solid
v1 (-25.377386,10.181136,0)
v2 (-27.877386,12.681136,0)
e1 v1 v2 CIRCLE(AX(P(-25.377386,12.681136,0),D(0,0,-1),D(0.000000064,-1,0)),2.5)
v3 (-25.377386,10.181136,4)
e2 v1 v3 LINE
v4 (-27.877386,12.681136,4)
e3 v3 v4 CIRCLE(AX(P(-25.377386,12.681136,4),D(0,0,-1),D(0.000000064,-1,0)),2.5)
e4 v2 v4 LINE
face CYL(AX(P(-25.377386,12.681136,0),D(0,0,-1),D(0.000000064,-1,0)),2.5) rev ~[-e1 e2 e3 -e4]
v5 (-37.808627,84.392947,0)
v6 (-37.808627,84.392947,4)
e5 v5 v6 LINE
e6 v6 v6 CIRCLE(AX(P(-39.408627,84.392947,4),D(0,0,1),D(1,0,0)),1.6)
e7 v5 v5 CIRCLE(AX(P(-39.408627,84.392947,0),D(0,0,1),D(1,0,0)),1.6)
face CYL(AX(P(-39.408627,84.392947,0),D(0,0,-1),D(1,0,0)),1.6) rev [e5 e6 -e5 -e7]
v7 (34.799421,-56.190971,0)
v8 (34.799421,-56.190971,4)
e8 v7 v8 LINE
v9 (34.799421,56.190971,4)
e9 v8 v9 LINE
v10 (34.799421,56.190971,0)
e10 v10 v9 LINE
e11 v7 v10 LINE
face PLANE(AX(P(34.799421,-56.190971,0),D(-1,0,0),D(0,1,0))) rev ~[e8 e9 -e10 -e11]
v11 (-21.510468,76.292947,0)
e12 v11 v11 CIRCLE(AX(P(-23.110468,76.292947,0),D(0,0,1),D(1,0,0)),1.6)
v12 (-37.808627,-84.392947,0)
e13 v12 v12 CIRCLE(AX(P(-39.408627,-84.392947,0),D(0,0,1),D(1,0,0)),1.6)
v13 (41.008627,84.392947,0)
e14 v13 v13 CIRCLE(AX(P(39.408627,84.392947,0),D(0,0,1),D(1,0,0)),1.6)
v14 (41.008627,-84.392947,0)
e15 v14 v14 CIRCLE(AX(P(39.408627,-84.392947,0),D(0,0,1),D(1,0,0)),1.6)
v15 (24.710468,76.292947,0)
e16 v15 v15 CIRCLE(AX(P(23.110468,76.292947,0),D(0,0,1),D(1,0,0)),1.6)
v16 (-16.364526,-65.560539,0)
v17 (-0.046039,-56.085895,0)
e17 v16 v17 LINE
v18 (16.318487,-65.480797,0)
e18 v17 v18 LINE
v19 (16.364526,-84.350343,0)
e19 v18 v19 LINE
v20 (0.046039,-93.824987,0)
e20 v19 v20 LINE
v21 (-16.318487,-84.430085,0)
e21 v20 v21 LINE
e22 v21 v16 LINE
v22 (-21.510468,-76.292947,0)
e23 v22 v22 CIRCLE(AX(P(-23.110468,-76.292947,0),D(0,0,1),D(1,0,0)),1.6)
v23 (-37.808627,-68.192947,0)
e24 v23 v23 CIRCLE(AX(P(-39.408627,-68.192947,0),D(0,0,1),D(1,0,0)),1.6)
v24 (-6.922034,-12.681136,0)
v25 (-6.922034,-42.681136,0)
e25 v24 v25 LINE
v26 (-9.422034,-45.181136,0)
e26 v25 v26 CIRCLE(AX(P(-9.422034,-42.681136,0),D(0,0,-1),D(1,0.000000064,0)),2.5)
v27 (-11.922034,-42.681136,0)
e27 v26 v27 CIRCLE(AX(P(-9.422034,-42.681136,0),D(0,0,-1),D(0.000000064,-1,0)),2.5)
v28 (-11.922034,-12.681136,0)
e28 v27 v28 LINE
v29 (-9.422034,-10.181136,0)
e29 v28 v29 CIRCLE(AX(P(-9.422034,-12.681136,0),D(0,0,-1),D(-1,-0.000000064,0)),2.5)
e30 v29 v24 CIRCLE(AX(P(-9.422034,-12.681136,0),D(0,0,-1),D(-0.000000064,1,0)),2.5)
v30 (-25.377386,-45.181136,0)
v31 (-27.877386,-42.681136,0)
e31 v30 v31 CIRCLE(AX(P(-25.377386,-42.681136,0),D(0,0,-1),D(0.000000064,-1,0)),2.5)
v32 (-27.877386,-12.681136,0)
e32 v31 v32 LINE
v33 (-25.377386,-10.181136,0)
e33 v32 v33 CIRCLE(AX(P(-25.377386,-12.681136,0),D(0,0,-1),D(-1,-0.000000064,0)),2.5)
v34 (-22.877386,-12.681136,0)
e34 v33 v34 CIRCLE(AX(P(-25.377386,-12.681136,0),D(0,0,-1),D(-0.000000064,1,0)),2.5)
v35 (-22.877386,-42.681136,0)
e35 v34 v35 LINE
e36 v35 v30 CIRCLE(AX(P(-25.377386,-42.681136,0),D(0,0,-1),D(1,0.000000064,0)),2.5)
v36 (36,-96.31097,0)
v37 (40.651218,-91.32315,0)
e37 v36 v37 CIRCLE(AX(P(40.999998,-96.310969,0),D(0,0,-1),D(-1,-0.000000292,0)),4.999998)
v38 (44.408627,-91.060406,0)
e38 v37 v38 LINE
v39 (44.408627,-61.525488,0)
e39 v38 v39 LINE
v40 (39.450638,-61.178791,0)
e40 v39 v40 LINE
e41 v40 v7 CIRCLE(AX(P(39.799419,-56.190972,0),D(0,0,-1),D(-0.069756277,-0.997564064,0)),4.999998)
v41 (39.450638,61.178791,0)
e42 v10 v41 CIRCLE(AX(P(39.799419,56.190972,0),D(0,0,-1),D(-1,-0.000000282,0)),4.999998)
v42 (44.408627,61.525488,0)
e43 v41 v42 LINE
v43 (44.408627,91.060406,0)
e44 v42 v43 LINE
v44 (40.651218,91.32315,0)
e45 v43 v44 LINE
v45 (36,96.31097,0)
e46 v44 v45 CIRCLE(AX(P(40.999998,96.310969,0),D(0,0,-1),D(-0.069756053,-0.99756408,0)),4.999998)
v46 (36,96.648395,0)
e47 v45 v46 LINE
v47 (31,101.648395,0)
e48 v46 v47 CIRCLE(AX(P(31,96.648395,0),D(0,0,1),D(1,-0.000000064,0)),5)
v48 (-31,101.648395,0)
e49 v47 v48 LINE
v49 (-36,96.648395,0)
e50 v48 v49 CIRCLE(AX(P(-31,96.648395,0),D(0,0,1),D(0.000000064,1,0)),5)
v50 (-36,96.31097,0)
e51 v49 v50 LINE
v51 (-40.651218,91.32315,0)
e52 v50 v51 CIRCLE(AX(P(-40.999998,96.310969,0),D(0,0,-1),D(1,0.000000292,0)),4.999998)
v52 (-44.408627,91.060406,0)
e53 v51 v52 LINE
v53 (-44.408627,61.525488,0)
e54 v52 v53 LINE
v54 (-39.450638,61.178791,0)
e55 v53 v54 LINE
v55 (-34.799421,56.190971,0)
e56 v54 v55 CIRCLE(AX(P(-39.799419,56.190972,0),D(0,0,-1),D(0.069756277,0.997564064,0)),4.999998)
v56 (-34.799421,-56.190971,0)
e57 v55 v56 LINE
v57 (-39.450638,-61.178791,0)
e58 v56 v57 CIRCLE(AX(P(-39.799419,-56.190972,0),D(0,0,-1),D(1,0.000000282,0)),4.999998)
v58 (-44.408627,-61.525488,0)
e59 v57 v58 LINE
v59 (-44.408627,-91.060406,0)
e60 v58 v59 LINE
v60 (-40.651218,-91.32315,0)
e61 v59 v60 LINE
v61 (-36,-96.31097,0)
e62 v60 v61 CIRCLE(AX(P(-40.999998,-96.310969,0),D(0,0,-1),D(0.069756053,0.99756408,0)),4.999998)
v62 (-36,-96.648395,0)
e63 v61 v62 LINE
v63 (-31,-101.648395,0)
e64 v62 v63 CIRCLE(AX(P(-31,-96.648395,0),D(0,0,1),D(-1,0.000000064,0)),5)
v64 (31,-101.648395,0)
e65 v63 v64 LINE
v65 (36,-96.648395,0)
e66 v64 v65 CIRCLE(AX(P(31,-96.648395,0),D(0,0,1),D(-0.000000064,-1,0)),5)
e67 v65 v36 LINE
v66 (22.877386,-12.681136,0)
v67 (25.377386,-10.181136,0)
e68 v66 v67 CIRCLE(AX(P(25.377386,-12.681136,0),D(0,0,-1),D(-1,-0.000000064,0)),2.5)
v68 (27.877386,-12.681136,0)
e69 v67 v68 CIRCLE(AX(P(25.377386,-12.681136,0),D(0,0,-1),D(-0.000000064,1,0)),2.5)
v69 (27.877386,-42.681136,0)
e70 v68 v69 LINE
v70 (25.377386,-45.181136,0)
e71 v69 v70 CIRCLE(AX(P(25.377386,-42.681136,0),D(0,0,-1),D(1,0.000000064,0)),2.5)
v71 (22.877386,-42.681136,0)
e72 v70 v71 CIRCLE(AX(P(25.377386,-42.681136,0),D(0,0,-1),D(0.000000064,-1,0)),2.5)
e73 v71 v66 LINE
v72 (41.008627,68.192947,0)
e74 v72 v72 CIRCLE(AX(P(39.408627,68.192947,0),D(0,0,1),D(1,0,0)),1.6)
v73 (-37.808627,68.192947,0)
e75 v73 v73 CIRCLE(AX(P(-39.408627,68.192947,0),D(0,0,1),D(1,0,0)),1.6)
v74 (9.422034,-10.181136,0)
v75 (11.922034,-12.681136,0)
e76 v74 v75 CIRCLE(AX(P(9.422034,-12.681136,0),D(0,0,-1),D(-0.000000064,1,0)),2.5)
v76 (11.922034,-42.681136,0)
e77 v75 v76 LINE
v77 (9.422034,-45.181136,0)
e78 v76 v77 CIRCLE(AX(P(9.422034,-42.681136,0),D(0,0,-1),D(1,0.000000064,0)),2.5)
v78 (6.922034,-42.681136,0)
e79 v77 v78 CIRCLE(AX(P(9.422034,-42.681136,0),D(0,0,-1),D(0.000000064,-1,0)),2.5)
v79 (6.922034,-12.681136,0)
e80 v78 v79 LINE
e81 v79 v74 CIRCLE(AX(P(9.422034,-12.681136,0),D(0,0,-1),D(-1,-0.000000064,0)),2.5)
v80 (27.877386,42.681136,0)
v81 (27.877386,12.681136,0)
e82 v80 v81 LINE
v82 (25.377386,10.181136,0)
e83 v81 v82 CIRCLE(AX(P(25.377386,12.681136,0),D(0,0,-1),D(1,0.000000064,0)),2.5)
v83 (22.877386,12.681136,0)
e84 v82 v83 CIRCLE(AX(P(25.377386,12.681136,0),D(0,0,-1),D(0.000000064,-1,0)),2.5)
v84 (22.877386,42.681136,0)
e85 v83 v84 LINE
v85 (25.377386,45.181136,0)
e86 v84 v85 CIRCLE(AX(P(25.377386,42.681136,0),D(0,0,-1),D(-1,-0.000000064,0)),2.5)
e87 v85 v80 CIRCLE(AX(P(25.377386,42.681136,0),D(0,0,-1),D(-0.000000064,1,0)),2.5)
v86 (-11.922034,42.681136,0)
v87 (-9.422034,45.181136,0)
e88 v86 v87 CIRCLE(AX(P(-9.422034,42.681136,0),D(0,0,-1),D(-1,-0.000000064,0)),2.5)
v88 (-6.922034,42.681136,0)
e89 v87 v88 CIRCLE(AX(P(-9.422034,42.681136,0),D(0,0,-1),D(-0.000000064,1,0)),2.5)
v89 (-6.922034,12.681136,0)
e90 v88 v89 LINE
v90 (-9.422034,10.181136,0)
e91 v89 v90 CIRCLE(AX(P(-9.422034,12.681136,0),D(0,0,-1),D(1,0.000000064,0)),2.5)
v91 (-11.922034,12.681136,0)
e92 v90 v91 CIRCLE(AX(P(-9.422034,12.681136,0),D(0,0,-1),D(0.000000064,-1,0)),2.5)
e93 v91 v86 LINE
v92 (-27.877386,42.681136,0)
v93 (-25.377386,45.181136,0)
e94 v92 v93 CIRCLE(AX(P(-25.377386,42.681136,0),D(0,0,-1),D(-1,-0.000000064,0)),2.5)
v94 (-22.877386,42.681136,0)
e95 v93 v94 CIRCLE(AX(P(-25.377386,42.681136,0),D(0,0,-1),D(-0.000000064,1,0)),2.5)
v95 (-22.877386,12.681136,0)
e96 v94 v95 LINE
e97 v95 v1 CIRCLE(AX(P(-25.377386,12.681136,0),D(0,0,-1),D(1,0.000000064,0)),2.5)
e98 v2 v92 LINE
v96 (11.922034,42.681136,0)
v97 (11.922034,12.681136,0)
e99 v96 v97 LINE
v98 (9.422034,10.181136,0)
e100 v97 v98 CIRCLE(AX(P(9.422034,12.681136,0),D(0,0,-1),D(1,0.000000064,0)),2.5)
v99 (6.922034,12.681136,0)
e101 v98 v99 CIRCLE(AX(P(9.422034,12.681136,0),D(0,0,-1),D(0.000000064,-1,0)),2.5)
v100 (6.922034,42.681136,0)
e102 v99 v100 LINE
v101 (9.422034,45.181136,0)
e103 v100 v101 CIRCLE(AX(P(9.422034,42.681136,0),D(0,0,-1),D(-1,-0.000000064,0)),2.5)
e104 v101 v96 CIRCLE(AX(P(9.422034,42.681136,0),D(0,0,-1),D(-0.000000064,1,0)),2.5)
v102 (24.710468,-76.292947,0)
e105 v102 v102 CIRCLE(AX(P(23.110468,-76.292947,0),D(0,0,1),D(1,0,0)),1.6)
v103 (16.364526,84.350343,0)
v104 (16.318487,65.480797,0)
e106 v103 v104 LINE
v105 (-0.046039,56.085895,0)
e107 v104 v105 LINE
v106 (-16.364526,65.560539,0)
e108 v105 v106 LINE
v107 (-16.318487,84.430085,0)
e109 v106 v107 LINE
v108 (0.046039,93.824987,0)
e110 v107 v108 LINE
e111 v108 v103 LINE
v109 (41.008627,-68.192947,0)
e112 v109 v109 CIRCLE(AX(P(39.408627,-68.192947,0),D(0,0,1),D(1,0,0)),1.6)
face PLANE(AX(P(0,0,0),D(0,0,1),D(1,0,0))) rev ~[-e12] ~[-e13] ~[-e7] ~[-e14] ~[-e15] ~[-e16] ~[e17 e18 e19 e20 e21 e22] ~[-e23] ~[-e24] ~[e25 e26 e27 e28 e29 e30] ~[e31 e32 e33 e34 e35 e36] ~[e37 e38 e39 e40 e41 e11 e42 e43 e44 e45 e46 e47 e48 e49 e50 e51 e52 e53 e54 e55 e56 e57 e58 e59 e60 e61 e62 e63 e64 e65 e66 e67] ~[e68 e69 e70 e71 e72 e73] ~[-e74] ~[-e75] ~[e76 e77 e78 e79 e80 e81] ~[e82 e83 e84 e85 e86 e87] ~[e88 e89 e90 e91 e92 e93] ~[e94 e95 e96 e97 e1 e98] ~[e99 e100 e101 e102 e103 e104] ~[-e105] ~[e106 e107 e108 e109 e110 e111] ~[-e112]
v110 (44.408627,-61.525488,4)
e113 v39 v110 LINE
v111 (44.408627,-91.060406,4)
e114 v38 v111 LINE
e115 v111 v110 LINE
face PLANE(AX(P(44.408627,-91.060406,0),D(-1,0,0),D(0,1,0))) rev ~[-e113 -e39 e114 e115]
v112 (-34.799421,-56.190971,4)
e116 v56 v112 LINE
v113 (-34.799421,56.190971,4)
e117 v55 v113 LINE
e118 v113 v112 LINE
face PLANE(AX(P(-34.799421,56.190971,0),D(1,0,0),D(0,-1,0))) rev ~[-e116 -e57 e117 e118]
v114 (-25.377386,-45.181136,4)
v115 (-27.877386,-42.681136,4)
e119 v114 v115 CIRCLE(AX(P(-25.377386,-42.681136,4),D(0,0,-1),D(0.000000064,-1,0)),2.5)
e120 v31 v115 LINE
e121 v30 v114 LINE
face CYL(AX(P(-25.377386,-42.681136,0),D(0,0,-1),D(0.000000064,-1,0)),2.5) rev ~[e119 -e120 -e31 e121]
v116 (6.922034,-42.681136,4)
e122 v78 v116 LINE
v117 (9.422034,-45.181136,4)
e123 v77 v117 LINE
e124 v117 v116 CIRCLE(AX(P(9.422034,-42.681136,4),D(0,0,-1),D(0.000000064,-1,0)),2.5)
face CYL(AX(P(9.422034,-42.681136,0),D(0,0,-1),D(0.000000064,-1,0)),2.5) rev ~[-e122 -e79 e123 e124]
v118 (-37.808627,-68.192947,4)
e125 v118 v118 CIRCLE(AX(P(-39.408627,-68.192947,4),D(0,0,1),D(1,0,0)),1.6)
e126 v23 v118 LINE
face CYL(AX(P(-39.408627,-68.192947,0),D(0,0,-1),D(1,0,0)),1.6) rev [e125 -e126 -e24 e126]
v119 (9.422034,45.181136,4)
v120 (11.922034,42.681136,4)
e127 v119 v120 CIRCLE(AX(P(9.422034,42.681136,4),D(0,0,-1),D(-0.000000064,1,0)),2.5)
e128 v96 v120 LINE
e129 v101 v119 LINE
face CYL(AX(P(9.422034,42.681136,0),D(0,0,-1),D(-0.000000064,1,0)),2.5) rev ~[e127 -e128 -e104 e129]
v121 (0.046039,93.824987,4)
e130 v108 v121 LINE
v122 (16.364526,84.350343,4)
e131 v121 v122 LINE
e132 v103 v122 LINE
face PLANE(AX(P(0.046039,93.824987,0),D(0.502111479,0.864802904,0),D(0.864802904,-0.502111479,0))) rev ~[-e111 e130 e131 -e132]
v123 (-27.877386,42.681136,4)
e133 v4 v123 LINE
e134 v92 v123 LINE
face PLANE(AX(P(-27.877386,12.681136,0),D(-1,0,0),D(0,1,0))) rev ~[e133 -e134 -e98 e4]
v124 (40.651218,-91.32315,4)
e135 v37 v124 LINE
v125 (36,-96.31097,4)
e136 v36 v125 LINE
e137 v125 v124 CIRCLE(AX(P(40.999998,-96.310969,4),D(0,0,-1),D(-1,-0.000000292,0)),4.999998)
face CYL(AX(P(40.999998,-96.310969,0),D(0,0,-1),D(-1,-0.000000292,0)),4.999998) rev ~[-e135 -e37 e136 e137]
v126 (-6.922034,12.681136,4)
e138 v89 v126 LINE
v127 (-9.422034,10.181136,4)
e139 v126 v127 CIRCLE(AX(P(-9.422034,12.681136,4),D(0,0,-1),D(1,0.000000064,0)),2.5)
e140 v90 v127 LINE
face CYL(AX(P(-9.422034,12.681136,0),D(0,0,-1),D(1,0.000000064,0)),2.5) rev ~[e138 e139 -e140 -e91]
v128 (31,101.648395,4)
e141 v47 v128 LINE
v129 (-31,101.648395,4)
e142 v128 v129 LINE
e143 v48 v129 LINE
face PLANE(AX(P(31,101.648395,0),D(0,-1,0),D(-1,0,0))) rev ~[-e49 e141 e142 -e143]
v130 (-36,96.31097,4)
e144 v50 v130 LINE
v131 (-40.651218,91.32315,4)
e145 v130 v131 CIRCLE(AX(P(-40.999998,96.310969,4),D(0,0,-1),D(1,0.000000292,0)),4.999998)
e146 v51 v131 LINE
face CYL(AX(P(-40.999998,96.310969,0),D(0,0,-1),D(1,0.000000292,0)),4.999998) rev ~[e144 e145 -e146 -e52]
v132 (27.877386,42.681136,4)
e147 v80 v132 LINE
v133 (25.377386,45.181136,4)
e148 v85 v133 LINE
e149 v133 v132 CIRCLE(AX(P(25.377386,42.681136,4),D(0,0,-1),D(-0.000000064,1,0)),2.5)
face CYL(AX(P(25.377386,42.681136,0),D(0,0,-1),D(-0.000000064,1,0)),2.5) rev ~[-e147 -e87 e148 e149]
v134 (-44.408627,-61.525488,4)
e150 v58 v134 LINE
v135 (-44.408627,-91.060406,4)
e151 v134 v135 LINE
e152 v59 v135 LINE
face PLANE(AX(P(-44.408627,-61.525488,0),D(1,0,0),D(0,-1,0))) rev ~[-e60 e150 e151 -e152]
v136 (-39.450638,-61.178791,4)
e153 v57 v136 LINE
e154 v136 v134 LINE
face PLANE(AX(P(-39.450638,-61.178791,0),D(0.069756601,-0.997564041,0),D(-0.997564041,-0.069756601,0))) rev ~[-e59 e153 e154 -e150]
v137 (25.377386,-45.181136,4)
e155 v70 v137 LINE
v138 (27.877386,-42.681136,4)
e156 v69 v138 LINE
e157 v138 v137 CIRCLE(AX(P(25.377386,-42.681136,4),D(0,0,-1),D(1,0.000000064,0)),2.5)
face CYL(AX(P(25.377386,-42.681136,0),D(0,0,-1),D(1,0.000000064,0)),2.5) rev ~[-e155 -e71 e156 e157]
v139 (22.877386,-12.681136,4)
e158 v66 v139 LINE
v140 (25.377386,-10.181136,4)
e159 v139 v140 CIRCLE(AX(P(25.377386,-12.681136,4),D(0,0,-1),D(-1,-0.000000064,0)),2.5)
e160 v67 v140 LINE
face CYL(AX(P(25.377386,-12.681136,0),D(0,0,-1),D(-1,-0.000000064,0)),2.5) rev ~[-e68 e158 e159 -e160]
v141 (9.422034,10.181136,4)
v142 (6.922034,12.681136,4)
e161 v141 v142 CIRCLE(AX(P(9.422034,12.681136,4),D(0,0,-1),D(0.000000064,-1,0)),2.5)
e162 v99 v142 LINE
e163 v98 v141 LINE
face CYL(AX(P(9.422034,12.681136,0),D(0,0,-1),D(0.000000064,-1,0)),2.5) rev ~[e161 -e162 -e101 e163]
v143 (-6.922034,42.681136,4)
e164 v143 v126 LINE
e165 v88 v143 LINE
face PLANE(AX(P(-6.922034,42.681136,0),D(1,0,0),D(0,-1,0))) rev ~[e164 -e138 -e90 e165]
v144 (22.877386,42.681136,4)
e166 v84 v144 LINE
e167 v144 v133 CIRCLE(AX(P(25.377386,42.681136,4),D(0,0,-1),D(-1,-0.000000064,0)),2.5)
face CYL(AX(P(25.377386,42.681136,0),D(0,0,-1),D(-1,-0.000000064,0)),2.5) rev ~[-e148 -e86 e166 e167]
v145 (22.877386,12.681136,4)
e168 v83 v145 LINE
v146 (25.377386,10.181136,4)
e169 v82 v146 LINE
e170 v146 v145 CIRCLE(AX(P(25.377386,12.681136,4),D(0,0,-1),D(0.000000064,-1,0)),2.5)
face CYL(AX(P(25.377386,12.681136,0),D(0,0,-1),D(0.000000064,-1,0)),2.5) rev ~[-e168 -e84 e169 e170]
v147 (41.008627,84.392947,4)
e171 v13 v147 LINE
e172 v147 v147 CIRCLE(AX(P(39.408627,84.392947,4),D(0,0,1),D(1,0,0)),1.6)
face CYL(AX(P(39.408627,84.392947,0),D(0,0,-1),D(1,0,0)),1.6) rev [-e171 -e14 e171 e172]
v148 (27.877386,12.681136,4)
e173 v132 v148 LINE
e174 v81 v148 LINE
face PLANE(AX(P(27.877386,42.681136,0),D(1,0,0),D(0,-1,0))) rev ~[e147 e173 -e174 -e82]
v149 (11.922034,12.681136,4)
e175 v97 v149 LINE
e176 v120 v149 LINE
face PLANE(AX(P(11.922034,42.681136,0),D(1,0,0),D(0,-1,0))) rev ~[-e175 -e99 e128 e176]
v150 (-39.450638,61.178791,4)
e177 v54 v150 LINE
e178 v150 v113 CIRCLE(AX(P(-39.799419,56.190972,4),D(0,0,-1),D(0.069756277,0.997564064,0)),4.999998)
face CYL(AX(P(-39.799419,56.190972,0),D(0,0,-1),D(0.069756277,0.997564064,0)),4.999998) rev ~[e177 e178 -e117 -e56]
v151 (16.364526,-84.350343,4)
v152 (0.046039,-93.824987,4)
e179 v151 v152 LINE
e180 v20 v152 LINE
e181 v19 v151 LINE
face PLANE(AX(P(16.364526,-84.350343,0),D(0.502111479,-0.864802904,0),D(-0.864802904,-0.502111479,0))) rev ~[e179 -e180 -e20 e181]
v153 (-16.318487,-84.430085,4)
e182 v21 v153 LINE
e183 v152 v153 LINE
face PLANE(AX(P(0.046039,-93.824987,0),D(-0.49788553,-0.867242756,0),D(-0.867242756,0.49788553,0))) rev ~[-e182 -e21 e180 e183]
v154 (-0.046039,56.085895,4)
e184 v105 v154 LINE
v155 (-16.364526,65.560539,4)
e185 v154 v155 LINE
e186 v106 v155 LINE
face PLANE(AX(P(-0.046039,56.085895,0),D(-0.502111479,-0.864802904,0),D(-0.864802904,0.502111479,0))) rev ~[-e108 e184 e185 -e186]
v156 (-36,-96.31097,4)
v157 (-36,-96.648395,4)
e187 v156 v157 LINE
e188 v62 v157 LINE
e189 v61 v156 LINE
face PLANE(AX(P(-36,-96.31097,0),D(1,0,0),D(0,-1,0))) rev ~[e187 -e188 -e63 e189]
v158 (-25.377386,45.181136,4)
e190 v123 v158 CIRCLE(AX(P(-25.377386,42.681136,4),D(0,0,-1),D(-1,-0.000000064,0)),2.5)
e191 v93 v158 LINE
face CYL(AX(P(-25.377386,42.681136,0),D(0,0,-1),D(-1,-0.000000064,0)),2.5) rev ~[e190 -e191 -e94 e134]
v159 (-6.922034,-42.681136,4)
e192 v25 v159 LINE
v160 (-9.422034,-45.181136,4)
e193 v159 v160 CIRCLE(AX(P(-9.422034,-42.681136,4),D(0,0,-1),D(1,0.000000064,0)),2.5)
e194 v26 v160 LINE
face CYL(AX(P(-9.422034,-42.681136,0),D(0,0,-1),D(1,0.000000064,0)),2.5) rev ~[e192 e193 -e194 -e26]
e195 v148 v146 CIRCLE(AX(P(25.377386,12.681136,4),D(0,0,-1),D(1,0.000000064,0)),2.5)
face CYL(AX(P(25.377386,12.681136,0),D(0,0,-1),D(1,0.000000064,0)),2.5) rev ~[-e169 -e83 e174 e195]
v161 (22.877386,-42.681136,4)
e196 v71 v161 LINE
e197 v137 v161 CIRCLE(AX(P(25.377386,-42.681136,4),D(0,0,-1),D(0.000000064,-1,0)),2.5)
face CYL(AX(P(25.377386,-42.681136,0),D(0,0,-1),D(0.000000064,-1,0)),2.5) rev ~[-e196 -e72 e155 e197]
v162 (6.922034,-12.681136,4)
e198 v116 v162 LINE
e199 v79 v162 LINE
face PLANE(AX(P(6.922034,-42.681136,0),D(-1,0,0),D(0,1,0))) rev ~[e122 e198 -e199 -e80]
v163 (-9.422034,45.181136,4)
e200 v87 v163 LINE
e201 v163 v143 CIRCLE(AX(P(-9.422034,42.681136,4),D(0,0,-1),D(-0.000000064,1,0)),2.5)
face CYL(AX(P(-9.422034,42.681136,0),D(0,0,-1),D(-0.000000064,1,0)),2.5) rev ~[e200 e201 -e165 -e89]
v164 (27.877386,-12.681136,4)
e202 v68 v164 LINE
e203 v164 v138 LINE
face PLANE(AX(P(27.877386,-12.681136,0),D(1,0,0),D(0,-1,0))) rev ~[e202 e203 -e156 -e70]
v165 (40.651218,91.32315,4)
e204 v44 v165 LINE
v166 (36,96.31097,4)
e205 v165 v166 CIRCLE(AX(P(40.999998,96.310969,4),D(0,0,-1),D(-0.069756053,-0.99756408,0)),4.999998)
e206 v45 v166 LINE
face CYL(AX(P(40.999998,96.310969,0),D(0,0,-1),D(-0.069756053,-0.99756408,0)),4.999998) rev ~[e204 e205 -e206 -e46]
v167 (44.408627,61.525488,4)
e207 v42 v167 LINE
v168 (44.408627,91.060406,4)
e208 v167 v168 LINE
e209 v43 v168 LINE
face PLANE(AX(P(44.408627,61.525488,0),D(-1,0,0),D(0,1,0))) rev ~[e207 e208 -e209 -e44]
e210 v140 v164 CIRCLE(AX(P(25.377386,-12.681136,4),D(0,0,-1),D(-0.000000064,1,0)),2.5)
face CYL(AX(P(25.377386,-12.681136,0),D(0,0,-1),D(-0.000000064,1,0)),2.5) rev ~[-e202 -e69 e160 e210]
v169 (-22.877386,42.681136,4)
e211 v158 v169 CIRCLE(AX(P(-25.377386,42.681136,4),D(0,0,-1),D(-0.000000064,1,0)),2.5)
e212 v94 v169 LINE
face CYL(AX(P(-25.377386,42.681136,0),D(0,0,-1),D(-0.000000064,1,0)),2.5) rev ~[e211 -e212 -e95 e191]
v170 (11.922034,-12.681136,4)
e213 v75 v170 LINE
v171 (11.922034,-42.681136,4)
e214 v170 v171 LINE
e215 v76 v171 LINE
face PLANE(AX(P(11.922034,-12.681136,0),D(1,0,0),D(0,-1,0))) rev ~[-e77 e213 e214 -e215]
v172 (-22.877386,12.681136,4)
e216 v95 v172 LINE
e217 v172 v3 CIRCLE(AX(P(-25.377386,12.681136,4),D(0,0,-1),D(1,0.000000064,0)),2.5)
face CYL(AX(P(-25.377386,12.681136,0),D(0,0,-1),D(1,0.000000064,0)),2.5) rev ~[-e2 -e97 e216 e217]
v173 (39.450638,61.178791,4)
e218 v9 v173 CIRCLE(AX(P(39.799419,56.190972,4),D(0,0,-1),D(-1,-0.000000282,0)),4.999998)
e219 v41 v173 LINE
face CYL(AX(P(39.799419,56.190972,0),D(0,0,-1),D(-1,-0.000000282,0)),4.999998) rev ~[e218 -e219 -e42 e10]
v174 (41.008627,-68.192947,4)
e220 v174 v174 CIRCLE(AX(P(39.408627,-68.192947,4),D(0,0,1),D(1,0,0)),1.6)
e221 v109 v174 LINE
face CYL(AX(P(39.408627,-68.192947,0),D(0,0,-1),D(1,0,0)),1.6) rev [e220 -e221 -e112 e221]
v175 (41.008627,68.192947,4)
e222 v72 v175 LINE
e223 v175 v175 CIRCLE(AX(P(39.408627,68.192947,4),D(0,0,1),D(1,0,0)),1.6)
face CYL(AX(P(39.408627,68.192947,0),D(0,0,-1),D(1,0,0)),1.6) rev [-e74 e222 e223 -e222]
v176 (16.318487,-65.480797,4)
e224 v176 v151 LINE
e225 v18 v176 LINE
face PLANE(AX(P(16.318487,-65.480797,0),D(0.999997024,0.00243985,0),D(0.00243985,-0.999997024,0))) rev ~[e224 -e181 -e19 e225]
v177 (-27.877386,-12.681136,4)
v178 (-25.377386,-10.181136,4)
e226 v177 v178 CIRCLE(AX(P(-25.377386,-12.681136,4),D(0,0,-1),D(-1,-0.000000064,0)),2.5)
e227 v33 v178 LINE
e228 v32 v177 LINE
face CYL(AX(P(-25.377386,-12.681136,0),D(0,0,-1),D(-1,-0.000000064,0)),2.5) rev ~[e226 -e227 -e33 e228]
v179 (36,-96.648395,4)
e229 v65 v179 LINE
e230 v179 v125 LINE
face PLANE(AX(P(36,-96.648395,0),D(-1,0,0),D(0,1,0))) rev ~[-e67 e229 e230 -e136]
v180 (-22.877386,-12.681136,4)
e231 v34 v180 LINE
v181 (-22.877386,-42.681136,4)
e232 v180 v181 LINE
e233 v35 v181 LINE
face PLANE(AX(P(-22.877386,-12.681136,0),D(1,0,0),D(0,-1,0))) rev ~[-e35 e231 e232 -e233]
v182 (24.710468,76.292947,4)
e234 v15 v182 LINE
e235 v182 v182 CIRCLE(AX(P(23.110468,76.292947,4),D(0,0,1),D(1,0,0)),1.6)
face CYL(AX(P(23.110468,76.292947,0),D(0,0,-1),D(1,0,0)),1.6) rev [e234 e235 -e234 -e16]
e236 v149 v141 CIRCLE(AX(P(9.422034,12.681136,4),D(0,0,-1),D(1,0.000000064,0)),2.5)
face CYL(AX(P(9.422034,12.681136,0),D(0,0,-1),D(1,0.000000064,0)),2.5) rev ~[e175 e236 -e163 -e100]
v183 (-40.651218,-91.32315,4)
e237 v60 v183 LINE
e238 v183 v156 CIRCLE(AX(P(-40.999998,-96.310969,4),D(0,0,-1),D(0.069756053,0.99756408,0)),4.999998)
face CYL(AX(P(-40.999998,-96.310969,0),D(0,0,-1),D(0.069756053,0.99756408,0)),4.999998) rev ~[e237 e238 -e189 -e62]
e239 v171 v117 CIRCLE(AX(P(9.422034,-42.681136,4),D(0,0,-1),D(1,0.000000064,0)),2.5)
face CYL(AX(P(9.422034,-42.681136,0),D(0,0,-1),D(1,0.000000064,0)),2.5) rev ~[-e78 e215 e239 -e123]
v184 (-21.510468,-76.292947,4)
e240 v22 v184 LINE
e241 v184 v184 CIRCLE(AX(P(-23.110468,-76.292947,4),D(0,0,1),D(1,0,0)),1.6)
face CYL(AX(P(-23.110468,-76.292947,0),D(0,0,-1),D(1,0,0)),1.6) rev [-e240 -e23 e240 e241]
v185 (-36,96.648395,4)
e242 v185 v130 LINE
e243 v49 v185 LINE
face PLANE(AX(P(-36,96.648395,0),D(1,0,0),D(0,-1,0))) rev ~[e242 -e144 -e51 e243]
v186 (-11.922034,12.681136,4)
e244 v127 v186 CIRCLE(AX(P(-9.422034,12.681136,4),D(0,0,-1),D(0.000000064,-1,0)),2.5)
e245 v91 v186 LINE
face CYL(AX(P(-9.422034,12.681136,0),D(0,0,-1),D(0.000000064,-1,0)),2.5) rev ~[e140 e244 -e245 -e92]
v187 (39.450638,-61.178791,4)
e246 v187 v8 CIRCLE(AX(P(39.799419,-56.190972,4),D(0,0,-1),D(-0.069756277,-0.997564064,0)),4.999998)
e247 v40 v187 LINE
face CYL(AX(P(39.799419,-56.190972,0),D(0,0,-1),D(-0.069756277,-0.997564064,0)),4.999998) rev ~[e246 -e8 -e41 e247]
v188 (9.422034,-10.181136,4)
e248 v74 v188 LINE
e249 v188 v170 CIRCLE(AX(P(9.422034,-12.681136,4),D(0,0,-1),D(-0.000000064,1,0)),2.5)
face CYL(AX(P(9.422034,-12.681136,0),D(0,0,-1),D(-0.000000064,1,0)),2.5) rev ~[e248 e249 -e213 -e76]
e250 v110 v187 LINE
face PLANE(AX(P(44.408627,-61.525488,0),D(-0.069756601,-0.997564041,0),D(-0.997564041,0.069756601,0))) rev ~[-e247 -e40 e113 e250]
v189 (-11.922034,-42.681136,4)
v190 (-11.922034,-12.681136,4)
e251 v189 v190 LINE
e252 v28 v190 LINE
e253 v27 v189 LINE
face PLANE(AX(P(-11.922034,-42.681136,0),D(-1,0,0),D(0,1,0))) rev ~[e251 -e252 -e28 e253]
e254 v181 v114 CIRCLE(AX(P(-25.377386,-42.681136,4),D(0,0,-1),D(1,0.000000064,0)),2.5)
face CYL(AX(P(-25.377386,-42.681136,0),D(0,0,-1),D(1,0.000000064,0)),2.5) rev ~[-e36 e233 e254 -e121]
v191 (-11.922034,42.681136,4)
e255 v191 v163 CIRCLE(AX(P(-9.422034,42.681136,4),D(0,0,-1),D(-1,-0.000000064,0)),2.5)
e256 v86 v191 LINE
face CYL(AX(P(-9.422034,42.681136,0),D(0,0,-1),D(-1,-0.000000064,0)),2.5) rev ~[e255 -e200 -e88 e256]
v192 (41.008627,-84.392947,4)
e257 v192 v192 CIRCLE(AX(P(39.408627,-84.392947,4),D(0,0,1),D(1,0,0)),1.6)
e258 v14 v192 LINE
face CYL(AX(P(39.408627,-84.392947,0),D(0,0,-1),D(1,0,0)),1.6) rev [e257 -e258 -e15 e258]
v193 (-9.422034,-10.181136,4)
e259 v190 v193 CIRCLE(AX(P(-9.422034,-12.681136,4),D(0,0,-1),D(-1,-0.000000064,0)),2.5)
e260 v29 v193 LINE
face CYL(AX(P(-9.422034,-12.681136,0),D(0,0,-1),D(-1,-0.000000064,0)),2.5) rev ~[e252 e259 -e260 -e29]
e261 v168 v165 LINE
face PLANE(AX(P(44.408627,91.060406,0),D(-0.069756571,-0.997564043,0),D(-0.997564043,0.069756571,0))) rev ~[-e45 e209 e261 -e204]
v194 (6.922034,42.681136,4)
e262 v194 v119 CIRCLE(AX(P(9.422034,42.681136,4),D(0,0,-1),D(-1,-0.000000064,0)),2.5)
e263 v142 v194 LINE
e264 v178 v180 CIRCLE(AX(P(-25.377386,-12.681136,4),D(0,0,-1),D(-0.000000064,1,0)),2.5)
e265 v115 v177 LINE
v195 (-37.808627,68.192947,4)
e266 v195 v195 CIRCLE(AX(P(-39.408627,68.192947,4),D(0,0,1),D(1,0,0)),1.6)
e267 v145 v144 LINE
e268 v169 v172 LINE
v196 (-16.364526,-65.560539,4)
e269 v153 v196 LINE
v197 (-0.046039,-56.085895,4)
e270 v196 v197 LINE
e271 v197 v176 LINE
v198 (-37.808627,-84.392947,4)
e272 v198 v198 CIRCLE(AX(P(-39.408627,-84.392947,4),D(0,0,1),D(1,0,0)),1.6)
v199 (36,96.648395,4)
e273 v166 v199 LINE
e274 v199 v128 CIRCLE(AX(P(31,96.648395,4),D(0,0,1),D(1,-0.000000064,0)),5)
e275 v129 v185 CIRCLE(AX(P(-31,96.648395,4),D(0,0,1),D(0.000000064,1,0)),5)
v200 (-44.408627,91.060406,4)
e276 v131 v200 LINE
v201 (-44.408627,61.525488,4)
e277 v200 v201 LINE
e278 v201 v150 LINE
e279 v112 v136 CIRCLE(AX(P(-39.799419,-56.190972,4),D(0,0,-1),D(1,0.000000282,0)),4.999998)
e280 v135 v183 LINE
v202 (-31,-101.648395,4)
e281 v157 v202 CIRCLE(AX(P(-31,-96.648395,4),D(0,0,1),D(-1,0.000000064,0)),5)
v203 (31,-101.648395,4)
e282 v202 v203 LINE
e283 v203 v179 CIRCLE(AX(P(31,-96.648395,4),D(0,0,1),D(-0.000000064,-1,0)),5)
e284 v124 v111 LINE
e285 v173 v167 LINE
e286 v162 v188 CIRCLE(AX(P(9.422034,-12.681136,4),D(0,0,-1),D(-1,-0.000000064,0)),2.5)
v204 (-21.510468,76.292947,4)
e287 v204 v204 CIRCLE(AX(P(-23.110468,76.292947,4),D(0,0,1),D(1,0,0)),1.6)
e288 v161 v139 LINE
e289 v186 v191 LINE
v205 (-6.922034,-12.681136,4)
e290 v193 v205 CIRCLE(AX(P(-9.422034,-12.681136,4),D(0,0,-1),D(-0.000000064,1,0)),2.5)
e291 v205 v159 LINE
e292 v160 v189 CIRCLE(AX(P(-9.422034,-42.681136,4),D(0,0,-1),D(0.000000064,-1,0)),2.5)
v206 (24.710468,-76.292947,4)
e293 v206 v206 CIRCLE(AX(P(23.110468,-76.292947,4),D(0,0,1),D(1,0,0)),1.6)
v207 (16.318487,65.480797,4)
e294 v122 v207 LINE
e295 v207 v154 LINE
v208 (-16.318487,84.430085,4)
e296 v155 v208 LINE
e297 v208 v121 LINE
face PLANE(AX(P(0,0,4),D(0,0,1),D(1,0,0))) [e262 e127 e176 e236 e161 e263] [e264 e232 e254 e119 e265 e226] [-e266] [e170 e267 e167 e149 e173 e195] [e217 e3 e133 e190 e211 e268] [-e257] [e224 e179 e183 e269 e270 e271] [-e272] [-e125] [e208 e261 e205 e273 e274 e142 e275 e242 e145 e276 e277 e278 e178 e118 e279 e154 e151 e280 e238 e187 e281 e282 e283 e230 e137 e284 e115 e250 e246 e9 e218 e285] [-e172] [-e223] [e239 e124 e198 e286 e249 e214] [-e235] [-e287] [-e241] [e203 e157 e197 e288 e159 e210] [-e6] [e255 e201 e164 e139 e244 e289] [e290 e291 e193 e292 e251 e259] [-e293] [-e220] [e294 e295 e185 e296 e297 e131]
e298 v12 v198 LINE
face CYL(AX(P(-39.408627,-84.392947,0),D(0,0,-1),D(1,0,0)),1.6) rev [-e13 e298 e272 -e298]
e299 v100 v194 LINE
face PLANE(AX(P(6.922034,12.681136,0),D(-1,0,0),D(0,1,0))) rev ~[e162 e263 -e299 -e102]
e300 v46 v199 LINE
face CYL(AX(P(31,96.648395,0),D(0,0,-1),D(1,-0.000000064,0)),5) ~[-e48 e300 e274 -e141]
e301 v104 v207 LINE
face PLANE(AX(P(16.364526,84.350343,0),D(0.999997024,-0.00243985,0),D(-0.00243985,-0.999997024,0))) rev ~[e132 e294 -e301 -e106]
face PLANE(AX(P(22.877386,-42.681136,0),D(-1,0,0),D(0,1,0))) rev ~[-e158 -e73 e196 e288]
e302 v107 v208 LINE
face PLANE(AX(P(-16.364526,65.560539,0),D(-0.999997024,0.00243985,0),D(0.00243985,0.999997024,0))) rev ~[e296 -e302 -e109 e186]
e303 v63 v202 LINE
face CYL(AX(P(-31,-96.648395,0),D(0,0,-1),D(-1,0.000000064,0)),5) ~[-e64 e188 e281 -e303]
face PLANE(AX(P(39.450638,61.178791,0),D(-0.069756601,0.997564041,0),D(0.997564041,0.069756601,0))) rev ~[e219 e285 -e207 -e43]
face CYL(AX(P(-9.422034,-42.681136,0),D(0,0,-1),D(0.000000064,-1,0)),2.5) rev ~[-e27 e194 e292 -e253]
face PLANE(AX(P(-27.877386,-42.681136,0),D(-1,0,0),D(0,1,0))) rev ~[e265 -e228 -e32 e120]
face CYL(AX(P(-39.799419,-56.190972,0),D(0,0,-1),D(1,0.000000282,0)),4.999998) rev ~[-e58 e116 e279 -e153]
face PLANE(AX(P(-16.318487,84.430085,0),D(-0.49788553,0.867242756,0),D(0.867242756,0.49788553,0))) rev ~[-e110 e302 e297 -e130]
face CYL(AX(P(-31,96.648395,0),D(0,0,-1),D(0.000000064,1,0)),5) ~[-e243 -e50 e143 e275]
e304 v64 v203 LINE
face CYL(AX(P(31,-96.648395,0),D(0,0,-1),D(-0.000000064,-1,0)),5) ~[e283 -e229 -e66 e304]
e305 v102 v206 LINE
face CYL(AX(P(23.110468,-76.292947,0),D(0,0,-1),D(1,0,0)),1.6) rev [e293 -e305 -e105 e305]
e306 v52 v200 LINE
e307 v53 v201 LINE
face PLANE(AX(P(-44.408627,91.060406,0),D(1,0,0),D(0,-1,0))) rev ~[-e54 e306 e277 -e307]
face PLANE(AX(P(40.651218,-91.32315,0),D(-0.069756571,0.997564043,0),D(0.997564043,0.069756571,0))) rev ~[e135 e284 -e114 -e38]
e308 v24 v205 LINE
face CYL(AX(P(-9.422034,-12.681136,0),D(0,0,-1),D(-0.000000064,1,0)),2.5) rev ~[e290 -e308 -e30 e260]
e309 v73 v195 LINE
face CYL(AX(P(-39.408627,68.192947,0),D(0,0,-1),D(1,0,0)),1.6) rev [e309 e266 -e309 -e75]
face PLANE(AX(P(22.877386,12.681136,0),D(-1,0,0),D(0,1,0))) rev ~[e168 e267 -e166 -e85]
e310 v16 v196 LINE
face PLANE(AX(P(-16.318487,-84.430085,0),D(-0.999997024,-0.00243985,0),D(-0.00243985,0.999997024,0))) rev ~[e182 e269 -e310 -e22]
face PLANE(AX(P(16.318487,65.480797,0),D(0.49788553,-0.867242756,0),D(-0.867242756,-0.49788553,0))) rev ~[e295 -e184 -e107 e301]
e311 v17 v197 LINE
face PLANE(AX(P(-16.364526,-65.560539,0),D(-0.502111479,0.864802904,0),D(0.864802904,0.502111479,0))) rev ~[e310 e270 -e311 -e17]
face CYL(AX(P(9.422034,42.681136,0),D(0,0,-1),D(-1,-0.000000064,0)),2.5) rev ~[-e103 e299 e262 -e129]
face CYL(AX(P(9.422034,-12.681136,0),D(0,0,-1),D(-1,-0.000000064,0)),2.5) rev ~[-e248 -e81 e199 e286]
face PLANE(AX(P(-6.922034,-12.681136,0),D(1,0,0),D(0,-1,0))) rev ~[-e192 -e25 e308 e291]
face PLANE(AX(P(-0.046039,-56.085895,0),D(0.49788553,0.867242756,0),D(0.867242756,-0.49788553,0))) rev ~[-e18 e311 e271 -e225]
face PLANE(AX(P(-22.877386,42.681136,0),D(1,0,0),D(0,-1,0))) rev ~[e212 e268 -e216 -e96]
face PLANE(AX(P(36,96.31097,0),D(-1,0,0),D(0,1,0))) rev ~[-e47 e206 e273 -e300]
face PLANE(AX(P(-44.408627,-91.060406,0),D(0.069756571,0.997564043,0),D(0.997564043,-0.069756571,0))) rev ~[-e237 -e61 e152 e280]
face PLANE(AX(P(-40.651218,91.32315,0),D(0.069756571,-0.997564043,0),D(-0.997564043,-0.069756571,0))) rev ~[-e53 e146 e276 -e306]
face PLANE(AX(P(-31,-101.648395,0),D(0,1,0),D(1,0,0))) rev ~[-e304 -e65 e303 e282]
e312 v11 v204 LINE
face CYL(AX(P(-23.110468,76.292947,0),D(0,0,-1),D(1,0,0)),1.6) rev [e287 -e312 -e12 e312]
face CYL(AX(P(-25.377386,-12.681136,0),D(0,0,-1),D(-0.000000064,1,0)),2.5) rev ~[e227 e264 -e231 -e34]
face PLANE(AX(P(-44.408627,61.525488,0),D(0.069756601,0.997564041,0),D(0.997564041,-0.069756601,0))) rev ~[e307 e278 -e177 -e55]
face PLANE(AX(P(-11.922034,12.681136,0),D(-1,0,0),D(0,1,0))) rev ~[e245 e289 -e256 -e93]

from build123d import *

# Parameters (mm, degrees)
F0_R     = 1.6
F1_DEPTH = 4


with BuildPart() as f1:
    # F0 (on Top) → F1 (new body)
    with BuildSketch(Plane.XY):
        with BuildLine():
            Line((-44.408627, -61.525488), (-44.408627, -91.060406))
            Line((-44.408627, -91.060406), (-40.651218, -91.32315))
            ThreePointArc((-40.651218, -91.32315), (-37.343231, -92.900978), (-36, -96.31097))
            Line((-36, -96.31097), (-36, -96.648395))
            ThreePointArc((-36, -96.648395), (-34.535534, -100.183929), (-31, -101.648395))
            Line((-31, -101.648395), (0, -101.648395))
            Line((0, -101.648395), (31, -101.648395))
            ThreePointArc((31, -101.648395), (34.535534, -100.183929), (36, -96.648395))
            Line((36, -96.648395), (36, -96.31097))
            ThreePointArc((36, -96.31097), (37.343231, -92.900978), (40.651218, -91.32315))
            Line((40.651218, -91.32315), (44.408627, -91.060406))
            Line((44.408627, -91.060406), (44.408627, -61.525488))
            Line((44.408627, -61.525488), (39.450638, -61.178791))
            ThreePointArc((39.450638, -61.178791), (36.142652, -59.600963), (34.799421, -56.190971))
            Line((34.799421, -56.190971), (34.799421, 0))
            Line((34.799421, 0), (34.799421, 56.190971))
            ThreePointArc((34.799421, 56.190971), (36.142652, 59.600963), (39.450638, 61.178791))
            Line((39.450638, 61.178791), (44.408627, 61.525488))
            Line((44.408627, 61.525488), (44.408627, 91.060406))
            Line((44.408627, 91.060406), (40.651218, 91.32315))
            ThreePointArc((40.651218, 91.32315), (37.343231, 92.900978), (36, 96.31097))
            Line((36, 96.31097), (36, 96.648395))
            ThreePointArc((36, 96.648395), (34.535534, 100.183929), (31, 101.648395))
            Line((31, 101.648395), (0, 101.648395))
            Line((0, 101.648395), (-31, 101.648395))
            ThreePointArc((-31, 101.648395), (-34.535534, 100.183929), (-36, 96.648395))
            Line((-36, 96.648395), (-36, 96.31097))
            ThreePointArc((-36, 96.31097), (-37.343231, 92.900978), (-40.651218, 91.32315))
            Line((-40.651218, 91.32315), (-44.408627, 91.060406))
            Line((-44.408627, 91.060406), (-44.408627, 61.525488))
            Line((-44.408627, 61.525488), (-39.450638, 61.178791))
            ThreePointArc((-39.450638, 61.178791), (-36.142652, 59.600963), (-34.799421, 56.190971))
            Line((-34.799421, 56.190971), (-34.799421, 0))
            Line((-34.799421, 0), (-34.799421, -56.190971))
            ThreePointArc((-34.799421, -56.190971), (-36.142652, -59.600963), (-39.450638, -61.178791))
            Line((-39.450638, -61.178791), (-44.408627, -61.525488))
        make_face()
        with Locations((-39.408627, -84.392947)):
            Circle(F0_R, mode=Mode.SUBTRACT)
        with Locations((-23.110468, -76.292947)):
            Circle(F0_R, mode=Mode.SUBTRACT)
        with Locations((-39.408627, -68.192947)):
            Circle(F0_R, mode=Mode.SUBTRACT)
        with BuildLine():
            ThreePointArc((-22.877386, -42.681136), (-23.609619, -44.448903), (-25.377386, -45.181136))
            ThreePointArc((-25.377386, -45.181136), (-27.145153, -44.448903), (-27.877386, -42.681136))
            Line((-27.877386, -42.681136), (-27.877386, -12.681136))
            ThreePointArc((-27.877386, -12.681136), (-27.145153, -10.913369), (-25.377386, -10.181136))
            ThreePointArc((-25.377386, -10.181136), (-23.609619, -10.913369), (-22.877386, -12.681136))
            Line((-22.877386, -12.681136), (-22.877386, -42.681136))
        make_face(mode=Mode.SUBTRACT)
        with BuildLine():
            ThreePointArc((-9.422034, -10.181136), (-7.654267, -10.913369), (-6.922034, -12.681136))
            Line((-6.922034, -12.681136), (-6.922034, -42.681136))
            ThreePointArc((-6.922034, -42.681136), (-7.654267, -44.448903), (-9.422034, -45.181136))
            ThreePointArc((-9.422034, -45.181136), (-11.189801, -44.448903), (-11.922034, -42.681136))
            Line((-11.922034, -42.681136), (-11.922034, -12.681136))
            ThreePointArc((-11.922034, -12.681136), (-11.189801, -10.913369), (-9.422034, -10.181136))
        make_face(mode=Mode.SUBTRACT)
        Polygon((16.318487, -65.480797), (16.364526, -84.350343), (0.046039, -93.824987), (-16.318487, -84.430085), (-16.364526, -65.560539), (-0.046039, -56.085895), align=None, mode=Mode.SUBTRACT)
        with Locations((23.110468, -76.292947)):
            Circle(F0_R, mode=Mode.SUBTRACT)
        with Locations((39.408627, -84.392947)):
            Circle(F0_R, mode=Mode.SUBTRACT)
        with Locations((39.408627, -68.192947)):
            Circle(F0_R, mode=Mode.SUBTRACT)
        with BuildLine():
            ThreePointArc((6.922034, -12.681136), (7.654267, -10.913369), (9.422034, -10.181136))
            ThreePointArc((9.422034, -10.181136), (11.189801, -10.913369), (11.922034, -12.681136))
            Line((11.922034, -12.681136), (11.922034, -42.681136))
            ThreePointArc((11.922034, -42.681136), (11.189801, -44.448903), (9.422034, -45.181136))
            ThreePointArc((9.422034, -45.181136), (7.654267, -44.448903), (6.922034, -42.681136))
            Line((6.922034, -42.681136), (6.922034, -12.681136))
        make_face(mode=Mode.SUBTRACT)
        with BuildLine():
            ThreePointArc((25.377386, -45.181136), (23.609619, -44.448903), (22.877386, -42.681136))
            Line((22.877386, -42.681136), (22.877386, -12.681136))
            ThreePointArc((22.877386, -12.681136), (23.609619, -10.913369), (25.377386, -10.181136))
            ThreePointArc((25.377386, -10.181136), (27.145153, -10.913369), (27.877386, -12.681136))
            Line((27.877386, -12.681136), (27.877386, -42.681136))
            ThreePointArc((27.877386, -42.681136), (27.145153, -44.448903), (25.377386, -45.181136))
        make_face(mode=Mode.SUBTRACT)
        with BuildLine():
            ThreePointArc((-22.877386, 12.681136), (-23.609619, 10.913369), (-25.377386, 10.181136))
            ThreePointArc((-25.377386, 10.181136), (-27.145153, 10.913369), (-27.877386, 12.681136))
            Line((-27.877386, 12.681136), (-27.877386, 42.681136))
            ThreePointArc((-27.877386, 42.681136), (-27.145153, 44.448903), (-25.377386, 45.181136))
            ThreePointArc((-25.377386, 45.181136), (-23.609619, 44.448903), (-22.877386, 42.681136))
            Line((-22.877386, 42.681136), (-22.877386, 12.681136))
        make_face(mode=Mode.SUBTRACT)
        with BuildLine():
            Line((-6.922034, 42.681136), (-6.922034, 12.681136))
            ThreePointArc((-6.922034, 12.681136), (-7.654267, 10.913369), (-9.422034, 10.181136))
            ThreePointArc((-9.422034, 10.181136), (-11.189801, 10.913369), (-11.922034, 12.681136))
            Line((-11.922034, 12.681136), (-11.922034, 42.681136))
            ThreePointArc((-11.922034, 42.681136), (-11.189801, 44.448903), (-9.422034, 45.181136))
            ThreePointArc((-9.422034, 45.181136), (-7.654267, 44.448903), (-6.922034, 42.681136))
        make_face(mode=Mode.SUBTRACT)
        with Locations((-39.408627, 68.192947)):
            Circle(F0_R, mode=Mode.SUBTRACT)
        with Locations((-39.408627, 84.392947)):
            Circle(F0_R, mode=Mode.SUBTRACT)
        with Locations((-23.110468, 76.292947)):
            Circle(F0_R, mode=Mode.SUBTRACT)
        with BuildLine():
            ThreePointArc((9.422034, 10.181136), (7.654267, 10.913369), (6.922034, 12.681136))
            Line((6.922034, 12.681136), (6.922034, 42.681136))
            ThreePointArc((6.922034, 42.681136), (7.654267, 44.448903), (9.422034, 45.181136))
            ThreePointArc((9.422034, 45.181136), (11.189801, 44.448903), (11.922034, 42.681136))
            Line((11.922034, 42.681136), (11.922034, 12.681136))
            ThreePointArc((11.922034, 12.681136), (11.189801, 10.913369), (9.422034, 10.181136))
        make_face(mode=Mode.SUBTRACT)
        with BuildLine():
            ThreePointArc((22.877386, 42.681136), (23.609619, 44.448903), (25.377386, 45.181136))
            ThreePointArc((25.377386, 45.181136), (27.145153, 44.448903), (27.877386, 42.681136))
            Line((27.877386, 42.681136), (27.877386, 12.681136))
            ThreePointArc((27.877386, 12.681136), (27.145153, 10.913369), (25.377386, 10.181136))
            ThreePointArc((25.377386, 10.181136), (23.609619, 10.913369), (22.877386, 12.681136))
            Line((22.877386, 12.681136), (22.877386, 42.681136))
        make_face(mode=Mode.SUBTRACT)
        Polygon((-0.046039, 56.085895), (-16.364526, 65.560539), (-16.318487, 84.430085), (0.046039, 93.824987), (16.364526, 84.350343), (16.318487, 65.480797), align=None, mode=Mode.SUBTRACT)
        with Locations((39.408627, 68.192947)):
            Circle(F0_R, mode=Mode.SUBTRACT)
        with Locations((23.110468, 76.292947)):
            Circle(F0_R, mode=Mode.SUBTRACT)
        with Locations((39.408627, 84.392947)):
            Circle(F0_R, mode=Mode.SUBTRACT)
    extrude(amount=F1_DEPTH)


solid = f1.part
